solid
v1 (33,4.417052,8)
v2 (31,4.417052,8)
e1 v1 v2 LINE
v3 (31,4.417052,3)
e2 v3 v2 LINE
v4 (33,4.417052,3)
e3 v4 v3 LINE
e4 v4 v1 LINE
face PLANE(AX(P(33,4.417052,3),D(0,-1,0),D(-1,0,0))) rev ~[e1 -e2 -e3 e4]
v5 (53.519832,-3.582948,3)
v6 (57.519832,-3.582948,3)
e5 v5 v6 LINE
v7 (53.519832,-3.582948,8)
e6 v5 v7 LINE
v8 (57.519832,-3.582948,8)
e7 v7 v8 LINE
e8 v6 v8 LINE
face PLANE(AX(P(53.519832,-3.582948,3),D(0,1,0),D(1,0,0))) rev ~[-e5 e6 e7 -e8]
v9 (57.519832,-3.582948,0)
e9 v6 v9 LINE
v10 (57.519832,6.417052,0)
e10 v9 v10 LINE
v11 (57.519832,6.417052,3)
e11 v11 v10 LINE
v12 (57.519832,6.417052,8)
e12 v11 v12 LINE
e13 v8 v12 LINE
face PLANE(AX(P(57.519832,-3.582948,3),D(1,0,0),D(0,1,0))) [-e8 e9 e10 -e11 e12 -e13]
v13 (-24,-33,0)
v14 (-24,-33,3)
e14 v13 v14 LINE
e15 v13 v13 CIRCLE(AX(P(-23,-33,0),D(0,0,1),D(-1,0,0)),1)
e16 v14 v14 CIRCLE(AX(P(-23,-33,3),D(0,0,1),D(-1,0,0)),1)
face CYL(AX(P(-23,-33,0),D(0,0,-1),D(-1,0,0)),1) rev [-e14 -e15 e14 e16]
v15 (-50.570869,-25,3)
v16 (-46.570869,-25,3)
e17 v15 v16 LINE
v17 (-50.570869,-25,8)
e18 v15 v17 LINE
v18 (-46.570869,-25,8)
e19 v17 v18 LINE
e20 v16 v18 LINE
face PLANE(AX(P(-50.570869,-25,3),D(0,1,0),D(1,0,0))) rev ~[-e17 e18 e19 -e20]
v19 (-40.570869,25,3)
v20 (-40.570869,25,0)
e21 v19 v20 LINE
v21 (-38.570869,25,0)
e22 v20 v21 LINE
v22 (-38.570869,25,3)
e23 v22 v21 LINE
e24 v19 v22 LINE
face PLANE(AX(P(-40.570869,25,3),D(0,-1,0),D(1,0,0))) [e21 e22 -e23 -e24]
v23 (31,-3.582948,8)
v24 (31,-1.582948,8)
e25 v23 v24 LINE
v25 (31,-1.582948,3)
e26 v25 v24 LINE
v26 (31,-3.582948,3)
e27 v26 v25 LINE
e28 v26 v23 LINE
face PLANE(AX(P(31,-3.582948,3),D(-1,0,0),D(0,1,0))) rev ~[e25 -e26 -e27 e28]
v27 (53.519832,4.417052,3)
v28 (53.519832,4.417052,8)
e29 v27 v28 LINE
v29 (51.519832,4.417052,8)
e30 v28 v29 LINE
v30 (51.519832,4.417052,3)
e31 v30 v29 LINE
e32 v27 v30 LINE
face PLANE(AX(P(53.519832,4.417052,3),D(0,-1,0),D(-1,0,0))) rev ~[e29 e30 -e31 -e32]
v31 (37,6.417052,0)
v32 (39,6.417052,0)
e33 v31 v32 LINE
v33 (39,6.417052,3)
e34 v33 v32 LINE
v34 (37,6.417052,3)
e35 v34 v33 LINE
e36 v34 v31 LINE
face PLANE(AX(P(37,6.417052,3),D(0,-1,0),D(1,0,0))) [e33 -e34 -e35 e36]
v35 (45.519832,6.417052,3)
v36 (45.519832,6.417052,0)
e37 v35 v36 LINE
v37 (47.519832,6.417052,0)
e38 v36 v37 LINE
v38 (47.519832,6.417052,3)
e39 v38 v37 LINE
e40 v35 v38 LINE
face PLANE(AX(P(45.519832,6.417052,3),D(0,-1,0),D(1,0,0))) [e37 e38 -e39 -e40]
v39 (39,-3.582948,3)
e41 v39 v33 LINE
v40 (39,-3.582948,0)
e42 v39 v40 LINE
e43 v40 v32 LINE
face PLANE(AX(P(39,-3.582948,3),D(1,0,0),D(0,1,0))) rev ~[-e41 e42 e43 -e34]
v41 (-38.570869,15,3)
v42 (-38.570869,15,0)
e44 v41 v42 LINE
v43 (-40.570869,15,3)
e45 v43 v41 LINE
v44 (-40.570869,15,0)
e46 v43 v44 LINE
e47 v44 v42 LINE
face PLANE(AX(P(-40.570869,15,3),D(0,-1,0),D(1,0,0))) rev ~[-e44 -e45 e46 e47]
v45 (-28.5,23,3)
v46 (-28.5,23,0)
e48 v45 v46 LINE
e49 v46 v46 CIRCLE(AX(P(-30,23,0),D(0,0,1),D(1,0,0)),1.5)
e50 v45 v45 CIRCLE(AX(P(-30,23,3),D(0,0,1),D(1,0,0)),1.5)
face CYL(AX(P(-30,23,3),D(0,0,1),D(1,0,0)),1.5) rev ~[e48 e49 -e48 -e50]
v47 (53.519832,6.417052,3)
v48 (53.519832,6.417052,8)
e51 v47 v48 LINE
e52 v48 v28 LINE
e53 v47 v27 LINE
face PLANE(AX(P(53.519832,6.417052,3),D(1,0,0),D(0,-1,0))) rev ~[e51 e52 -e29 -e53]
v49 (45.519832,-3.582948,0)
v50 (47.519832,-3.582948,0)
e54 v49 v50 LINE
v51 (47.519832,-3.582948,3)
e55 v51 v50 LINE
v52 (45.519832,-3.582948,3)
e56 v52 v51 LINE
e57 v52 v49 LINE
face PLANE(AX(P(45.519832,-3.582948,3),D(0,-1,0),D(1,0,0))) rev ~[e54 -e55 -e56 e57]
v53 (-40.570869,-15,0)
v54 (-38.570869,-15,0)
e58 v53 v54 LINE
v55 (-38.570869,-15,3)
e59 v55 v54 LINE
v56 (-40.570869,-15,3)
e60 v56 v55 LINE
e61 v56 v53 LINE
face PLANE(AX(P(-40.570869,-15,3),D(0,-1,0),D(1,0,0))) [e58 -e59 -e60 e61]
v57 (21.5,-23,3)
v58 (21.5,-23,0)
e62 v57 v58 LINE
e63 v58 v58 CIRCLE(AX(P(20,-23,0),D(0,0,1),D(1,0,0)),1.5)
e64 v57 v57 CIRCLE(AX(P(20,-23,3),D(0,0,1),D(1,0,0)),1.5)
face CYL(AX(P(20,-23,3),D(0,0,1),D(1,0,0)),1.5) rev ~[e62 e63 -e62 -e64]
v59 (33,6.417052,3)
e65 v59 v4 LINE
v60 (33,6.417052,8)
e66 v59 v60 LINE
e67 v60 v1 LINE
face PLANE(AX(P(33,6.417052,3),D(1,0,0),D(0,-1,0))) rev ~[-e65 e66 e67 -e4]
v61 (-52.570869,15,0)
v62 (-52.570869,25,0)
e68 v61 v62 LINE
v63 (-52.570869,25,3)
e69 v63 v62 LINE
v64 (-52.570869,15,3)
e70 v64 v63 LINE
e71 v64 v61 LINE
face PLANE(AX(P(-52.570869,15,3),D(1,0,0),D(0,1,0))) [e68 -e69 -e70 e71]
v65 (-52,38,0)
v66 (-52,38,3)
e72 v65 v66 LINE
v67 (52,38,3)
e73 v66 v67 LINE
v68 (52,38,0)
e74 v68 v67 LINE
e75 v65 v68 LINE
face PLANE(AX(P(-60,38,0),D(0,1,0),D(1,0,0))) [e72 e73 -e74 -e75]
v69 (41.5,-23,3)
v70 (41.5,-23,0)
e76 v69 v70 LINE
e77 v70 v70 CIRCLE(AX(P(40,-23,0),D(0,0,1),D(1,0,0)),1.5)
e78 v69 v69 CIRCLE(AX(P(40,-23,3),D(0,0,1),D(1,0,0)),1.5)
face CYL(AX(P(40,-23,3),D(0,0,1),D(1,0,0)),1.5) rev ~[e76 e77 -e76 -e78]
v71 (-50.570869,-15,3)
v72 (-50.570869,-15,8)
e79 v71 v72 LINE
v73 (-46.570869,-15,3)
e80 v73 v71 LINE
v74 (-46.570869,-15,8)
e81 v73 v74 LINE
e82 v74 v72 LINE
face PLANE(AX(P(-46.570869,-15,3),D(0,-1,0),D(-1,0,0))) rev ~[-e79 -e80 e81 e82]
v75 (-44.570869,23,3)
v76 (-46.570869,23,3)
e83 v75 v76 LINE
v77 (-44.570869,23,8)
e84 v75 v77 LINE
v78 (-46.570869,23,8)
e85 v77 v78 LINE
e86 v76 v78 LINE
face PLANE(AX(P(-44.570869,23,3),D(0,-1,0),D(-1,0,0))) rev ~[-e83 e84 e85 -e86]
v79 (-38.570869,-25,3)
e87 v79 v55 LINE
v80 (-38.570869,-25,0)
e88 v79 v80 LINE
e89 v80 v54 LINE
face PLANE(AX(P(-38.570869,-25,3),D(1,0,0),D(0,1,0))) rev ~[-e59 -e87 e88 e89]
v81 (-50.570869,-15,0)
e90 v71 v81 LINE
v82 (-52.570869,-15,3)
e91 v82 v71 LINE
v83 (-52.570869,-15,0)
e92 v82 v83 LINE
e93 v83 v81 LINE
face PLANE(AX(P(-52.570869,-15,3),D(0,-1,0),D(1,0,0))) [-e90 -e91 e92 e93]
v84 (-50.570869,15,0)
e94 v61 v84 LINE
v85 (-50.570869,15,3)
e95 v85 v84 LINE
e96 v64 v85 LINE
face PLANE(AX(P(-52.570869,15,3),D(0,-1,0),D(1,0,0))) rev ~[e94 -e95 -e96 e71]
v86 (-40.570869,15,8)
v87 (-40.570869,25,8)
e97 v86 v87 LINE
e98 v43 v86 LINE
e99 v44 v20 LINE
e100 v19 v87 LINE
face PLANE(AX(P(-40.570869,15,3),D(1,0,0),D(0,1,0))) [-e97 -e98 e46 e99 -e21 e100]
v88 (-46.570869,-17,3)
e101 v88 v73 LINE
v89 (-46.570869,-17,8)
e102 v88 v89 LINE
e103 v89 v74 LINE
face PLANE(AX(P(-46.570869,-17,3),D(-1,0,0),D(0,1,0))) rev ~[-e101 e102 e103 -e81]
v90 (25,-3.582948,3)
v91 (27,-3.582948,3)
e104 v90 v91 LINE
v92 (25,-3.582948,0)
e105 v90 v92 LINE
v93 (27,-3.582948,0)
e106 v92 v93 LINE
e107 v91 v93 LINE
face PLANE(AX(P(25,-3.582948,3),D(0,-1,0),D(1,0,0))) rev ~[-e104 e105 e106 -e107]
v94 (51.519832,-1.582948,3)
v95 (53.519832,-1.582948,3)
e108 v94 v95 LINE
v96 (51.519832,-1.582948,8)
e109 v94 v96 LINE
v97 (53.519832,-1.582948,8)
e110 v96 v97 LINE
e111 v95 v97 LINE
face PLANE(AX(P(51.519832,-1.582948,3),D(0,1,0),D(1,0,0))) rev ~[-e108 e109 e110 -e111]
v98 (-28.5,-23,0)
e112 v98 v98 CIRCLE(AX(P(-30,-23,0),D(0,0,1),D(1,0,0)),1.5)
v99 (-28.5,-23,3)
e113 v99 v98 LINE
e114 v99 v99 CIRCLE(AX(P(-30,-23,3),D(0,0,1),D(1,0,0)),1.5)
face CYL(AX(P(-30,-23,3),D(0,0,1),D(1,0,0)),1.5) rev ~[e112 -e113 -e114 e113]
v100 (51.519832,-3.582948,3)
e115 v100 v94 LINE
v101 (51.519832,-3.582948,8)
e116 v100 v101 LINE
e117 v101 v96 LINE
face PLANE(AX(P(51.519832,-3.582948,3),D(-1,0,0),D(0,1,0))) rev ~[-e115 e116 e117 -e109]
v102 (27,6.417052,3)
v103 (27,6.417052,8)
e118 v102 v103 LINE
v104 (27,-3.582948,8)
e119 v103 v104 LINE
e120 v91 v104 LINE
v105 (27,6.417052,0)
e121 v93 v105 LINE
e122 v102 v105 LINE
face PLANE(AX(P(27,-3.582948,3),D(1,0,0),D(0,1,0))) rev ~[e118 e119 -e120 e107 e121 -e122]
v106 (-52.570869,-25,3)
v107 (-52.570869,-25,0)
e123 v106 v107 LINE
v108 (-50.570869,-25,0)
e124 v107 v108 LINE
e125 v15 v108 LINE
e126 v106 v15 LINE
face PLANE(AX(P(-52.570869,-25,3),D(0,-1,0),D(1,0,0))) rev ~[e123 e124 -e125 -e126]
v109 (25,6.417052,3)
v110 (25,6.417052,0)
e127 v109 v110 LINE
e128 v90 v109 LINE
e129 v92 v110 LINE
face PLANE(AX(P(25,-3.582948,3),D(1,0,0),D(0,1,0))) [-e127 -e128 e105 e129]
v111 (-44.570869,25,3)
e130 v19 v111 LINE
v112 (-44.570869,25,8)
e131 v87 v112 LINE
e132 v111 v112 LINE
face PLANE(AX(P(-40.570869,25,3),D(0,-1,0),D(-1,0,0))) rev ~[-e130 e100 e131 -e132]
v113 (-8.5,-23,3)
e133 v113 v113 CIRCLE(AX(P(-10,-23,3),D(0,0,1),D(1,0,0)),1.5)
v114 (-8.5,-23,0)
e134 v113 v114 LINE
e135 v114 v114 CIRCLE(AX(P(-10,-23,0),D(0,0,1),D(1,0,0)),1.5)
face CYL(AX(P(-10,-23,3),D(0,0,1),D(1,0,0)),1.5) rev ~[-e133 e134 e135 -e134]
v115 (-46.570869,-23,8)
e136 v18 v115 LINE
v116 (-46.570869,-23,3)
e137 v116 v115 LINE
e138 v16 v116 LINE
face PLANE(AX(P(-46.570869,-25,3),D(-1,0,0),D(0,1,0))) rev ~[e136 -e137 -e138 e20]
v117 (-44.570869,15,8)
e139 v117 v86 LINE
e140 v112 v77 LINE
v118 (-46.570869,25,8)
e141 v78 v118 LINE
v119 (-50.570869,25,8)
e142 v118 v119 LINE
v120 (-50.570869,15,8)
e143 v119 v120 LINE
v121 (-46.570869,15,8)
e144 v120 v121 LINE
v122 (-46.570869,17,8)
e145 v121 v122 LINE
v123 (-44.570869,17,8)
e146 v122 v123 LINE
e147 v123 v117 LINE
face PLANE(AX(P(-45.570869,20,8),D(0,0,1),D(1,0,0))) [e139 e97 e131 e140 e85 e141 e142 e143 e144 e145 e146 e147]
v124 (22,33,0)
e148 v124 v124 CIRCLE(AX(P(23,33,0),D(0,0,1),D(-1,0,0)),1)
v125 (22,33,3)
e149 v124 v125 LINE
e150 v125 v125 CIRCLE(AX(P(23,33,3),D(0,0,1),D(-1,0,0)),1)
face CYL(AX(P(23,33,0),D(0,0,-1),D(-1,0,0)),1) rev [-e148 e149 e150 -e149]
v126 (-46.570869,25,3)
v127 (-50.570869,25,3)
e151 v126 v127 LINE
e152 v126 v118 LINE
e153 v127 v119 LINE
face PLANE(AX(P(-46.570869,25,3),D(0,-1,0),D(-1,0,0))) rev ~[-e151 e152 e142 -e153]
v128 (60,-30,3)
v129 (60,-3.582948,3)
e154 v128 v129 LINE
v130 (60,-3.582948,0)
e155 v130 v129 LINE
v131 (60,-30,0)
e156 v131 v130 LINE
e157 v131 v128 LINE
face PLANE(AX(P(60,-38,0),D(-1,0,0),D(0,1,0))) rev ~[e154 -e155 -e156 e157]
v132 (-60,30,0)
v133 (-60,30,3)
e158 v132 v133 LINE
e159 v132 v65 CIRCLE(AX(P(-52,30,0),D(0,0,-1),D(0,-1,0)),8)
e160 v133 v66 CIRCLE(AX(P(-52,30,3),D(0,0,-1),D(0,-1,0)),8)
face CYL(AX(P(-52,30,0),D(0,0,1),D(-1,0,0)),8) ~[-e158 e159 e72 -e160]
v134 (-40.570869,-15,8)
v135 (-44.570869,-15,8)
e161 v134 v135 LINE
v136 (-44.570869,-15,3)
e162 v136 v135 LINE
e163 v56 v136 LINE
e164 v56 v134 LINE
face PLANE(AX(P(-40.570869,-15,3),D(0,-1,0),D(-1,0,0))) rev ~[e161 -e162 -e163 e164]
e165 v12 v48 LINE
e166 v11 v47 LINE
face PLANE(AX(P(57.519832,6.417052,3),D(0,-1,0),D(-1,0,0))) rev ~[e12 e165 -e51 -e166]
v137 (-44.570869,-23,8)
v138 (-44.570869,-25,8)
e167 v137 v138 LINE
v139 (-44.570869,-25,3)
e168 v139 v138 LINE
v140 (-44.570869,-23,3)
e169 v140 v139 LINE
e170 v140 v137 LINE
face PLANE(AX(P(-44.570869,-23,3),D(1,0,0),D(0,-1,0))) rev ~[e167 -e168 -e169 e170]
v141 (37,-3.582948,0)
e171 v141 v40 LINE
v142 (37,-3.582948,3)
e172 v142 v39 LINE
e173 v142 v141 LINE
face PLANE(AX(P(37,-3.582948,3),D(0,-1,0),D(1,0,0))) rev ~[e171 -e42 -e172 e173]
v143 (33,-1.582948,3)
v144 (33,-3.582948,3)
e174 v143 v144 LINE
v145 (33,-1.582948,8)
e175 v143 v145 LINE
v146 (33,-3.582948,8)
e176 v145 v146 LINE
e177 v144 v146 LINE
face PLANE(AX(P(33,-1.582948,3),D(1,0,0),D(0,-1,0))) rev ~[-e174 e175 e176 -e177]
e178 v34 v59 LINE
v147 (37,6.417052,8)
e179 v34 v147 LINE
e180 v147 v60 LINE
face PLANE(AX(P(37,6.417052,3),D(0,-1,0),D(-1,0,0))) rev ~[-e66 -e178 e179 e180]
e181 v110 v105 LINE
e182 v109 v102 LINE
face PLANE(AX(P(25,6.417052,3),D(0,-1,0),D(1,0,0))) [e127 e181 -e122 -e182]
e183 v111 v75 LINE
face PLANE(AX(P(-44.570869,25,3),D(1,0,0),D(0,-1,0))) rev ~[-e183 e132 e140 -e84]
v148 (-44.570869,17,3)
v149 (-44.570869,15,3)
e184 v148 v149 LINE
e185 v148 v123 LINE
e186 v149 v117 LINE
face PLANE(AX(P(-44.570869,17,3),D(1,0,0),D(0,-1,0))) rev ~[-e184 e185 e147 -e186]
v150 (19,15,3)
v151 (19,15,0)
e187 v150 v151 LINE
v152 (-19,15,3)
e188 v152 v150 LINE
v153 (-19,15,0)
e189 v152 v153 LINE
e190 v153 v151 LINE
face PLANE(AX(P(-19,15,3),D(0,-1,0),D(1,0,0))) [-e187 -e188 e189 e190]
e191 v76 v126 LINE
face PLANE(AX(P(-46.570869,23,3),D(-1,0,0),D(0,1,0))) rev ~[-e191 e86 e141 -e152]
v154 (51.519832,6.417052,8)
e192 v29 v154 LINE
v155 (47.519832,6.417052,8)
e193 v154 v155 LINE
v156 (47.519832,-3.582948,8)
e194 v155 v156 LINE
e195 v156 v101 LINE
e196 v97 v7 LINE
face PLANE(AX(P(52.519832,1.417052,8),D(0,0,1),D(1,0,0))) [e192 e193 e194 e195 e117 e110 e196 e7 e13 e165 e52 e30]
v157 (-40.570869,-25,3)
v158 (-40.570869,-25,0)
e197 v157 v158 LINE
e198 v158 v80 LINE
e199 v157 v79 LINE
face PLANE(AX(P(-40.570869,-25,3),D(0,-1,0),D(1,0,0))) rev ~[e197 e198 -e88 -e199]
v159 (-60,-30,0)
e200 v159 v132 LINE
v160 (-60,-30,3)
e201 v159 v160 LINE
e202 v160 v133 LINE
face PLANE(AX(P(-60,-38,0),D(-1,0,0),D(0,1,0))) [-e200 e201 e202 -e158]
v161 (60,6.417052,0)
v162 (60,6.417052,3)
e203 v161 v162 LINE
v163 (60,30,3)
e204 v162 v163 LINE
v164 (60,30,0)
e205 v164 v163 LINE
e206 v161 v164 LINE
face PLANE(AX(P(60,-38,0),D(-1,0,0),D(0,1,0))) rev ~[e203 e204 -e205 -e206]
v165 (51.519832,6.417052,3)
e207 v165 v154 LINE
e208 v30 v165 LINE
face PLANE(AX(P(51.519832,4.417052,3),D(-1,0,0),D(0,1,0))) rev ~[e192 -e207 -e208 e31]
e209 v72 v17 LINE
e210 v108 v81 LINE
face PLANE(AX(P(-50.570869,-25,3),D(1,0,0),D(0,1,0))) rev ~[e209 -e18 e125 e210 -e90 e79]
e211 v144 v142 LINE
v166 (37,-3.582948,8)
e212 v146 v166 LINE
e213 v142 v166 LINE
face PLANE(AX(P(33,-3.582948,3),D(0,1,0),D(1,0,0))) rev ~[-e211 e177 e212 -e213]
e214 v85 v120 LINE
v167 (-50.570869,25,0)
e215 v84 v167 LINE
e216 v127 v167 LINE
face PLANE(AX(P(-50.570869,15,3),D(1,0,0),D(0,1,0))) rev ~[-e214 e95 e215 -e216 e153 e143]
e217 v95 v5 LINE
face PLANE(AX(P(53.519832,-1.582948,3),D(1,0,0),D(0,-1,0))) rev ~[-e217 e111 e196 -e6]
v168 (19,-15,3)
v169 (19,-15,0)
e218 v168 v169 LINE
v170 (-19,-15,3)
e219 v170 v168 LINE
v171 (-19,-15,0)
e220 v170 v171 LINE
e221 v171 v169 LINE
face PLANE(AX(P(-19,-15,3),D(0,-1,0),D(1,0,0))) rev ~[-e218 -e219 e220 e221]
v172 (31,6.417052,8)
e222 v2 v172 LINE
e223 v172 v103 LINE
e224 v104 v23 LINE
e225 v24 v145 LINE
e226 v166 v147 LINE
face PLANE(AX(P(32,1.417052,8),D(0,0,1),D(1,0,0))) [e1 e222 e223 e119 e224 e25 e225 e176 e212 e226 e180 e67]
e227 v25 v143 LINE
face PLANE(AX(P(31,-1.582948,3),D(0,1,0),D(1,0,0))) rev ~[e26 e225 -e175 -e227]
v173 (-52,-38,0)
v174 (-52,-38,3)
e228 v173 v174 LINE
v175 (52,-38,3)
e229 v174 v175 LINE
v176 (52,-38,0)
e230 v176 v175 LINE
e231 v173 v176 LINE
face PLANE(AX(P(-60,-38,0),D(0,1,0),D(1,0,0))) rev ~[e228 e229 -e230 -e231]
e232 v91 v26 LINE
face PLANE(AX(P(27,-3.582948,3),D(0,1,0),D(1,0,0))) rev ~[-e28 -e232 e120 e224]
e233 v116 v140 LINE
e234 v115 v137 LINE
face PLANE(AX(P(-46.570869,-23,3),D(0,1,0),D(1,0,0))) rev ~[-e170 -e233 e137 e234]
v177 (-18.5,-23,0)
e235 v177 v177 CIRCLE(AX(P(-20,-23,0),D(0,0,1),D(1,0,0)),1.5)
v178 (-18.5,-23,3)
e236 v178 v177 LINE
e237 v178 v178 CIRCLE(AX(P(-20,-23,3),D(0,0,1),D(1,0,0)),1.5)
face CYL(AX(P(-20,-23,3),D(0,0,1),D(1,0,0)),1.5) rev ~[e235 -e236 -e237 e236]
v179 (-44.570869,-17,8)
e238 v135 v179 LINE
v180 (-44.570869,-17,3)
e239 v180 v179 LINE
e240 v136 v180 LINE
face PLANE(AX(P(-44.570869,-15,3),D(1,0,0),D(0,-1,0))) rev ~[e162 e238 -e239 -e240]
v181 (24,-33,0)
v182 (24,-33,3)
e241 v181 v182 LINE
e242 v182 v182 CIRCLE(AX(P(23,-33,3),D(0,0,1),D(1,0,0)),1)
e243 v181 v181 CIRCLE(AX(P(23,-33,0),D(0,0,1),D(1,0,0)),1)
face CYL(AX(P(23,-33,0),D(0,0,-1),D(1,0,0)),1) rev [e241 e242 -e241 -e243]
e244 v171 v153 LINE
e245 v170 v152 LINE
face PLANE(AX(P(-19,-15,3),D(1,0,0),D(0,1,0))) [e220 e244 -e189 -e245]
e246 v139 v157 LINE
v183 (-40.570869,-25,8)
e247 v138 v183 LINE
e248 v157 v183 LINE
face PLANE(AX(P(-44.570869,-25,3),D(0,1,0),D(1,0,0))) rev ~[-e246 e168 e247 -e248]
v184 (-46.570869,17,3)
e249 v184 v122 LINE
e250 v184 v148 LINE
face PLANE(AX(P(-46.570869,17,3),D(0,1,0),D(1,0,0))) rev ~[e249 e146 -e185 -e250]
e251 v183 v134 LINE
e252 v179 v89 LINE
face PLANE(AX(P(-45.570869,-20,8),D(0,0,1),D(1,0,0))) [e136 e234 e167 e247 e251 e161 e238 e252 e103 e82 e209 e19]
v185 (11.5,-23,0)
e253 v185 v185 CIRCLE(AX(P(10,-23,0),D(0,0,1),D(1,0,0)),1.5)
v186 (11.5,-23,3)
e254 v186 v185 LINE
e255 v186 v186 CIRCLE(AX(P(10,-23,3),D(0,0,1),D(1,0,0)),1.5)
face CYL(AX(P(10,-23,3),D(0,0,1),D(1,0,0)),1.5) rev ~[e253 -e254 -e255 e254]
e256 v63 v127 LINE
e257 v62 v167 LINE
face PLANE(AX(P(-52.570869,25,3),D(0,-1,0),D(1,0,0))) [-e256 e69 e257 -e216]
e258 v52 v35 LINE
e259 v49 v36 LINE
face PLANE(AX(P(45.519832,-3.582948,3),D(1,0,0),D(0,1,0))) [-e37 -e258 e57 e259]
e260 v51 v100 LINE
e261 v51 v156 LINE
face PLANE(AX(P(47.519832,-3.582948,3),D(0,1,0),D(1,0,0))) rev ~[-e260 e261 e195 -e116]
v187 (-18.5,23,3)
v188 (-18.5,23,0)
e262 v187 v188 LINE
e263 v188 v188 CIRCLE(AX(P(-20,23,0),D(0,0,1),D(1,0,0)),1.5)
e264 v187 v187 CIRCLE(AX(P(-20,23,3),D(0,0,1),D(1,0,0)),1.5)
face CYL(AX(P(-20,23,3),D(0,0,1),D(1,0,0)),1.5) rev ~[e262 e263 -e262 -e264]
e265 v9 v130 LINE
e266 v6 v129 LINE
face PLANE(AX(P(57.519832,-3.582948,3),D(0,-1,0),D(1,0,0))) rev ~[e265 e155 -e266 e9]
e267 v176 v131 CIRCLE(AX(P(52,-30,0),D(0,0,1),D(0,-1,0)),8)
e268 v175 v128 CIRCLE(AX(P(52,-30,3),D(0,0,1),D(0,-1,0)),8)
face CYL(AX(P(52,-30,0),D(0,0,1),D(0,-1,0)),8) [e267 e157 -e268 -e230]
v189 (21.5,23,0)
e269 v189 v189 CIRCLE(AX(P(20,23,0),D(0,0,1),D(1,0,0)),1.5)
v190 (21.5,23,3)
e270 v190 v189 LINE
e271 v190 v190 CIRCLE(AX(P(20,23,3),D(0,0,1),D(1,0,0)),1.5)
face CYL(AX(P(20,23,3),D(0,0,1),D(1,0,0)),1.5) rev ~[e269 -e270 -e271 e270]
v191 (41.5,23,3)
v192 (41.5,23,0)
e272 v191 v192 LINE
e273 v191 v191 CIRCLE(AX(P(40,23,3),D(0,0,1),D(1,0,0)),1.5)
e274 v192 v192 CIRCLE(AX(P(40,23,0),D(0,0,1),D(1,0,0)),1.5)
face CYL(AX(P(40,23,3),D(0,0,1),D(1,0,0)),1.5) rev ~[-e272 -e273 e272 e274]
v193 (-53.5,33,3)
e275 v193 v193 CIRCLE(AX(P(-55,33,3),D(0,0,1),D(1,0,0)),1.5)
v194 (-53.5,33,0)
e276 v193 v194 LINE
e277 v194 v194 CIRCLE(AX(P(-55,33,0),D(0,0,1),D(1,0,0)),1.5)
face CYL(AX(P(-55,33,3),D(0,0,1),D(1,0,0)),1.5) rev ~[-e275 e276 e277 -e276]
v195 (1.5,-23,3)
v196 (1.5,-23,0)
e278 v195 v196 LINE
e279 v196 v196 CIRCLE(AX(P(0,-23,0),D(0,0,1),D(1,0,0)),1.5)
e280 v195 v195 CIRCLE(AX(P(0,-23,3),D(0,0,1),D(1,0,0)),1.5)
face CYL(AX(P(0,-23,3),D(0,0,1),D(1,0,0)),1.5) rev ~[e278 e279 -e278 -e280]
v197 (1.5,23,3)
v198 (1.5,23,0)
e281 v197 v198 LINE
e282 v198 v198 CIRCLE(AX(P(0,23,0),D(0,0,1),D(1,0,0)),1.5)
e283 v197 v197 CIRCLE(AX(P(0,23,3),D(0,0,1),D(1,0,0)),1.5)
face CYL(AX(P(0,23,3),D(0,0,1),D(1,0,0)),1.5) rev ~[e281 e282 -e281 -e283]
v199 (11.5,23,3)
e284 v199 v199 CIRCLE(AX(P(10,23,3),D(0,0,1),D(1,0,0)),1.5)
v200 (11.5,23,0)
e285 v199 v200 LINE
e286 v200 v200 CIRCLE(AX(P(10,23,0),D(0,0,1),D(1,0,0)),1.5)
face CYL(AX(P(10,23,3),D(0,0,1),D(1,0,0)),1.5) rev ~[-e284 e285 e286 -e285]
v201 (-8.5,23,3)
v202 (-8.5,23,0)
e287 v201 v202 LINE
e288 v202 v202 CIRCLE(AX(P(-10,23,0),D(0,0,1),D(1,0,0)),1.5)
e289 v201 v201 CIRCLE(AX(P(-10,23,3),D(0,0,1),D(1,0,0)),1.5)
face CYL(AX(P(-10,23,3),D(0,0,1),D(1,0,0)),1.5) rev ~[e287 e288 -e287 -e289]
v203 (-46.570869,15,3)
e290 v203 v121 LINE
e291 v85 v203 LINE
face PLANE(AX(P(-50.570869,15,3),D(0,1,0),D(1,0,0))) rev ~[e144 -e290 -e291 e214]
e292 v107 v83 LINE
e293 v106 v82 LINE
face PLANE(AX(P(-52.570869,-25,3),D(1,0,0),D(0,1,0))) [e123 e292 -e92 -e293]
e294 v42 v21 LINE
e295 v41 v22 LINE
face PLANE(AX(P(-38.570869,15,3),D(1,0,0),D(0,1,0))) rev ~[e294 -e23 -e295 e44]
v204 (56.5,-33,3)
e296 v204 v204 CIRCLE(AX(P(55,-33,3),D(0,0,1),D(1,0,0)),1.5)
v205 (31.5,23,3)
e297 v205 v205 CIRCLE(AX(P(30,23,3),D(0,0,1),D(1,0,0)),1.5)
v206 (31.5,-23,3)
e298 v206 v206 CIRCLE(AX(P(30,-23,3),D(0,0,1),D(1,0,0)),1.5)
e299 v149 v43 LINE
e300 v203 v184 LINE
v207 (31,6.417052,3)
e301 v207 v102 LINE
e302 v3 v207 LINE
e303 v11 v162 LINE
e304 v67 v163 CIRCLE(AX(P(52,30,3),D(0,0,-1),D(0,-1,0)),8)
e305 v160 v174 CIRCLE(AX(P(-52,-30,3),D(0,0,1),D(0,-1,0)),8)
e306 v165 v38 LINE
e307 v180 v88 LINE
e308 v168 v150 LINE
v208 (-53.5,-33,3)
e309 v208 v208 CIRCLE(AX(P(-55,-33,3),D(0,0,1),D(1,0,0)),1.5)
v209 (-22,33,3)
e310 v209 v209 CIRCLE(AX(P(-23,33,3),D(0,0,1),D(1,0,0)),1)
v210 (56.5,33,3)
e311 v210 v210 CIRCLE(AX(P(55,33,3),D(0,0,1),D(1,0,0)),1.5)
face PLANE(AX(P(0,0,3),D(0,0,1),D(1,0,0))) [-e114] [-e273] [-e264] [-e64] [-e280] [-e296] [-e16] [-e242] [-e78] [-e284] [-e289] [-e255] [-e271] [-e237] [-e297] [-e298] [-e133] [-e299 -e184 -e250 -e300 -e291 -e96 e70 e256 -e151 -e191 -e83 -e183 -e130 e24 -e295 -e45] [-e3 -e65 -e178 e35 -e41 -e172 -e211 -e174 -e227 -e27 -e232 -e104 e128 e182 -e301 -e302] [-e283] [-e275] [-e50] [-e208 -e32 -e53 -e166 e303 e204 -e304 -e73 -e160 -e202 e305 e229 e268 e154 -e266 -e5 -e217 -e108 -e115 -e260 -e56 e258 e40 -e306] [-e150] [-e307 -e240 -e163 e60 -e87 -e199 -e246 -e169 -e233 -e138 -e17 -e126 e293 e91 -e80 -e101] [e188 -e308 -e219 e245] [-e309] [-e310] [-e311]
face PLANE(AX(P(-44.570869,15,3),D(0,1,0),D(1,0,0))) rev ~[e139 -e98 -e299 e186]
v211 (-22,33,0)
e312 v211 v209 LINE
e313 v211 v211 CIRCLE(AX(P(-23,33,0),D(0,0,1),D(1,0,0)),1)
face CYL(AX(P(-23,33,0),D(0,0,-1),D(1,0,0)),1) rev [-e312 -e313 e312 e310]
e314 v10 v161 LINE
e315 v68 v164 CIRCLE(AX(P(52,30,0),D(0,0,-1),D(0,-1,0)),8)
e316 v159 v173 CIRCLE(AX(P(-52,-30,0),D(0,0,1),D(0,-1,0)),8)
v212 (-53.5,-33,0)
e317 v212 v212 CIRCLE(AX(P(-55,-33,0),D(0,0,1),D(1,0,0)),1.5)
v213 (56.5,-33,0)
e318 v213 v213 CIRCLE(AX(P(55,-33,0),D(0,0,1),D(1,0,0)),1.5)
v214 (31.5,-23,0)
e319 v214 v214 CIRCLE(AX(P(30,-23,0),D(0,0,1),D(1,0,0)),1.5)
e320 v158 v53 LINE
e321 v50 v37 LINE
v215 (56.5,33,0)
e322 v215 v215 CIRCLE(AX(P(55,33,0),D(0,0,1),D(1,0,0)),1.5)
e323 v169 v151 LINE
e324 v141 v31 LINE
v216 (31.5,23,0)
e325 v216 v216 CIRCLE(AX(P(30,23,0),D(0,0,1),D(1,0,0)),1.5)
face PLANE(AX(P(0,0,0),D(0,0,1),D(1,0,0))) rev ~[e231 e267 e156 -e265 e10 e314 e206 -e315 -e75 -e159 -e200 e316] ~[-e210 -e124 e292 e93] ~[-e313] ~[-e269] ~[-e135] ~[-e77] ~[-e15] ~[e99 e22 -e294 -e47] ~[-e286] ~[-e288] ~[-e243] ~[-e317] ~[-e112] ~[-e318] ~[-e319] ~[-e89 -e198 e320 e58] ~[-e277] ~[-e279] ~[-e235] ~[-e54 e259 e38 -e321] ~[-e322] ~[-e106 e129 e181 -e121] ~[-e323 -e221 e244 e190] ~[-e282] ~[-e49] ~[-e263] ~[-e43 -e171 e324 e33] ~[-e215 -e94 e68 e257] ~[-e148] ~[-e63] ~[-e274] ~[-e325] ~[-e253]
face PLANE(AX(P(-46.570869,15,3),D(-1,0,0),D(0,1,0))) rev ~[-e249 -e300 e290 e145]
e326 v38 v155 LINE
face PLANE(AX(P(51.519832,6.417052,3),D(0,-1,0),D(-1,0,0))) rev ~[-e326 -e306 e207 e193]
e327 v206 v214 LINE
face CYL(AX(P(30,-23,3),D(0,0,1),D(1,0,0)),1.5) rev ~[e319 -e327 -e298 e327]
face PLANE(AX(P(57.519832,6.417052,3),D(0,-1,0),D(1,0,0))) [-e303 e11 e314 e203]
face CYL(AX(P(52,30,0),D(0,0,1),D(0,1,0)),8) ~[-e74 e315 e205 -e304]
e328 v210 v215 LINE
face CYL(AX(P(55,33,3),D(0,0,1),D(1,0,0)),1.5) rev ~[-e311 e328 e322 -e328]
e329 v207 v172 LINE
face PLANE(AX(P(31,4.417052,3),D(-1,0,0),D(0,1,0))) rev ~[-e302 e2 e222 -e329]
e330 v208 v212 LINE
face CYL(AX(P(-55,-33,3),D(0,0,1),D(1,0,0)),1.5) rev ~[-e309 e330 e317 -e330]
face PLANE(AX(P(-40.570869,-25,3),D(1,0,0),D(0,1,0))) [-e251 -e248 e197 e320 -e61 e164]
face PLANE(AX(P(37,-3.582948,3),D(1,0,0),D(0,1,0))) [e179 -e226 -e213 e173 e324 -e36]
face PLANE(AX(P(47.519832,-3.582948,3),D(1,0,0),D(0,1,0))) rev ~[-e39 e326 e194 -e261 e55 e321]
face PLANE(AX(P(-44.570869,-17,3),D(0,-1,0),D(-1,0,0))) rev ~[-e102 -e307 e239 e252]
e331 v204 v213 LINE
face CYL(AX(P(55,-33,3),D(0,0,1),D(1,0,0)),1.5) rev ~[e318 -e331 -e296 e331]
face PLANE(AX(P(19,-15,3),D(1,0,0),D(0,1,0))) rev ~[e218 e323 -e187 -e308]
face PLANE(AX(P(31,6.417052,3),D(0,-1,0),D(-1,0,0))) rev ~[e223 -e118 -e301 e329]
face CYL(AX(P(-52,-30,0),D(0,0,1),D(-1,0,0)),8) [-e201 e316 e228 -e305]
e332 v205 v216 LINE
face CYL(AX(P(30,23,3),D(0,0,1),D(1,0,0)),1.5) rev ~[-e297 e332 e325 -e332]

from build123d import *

# Parameters (mm, degrees)
SKETCH_2_W          = 120
SKETCH_2_H          = 76
SKETCH_2_R          = 1
EXTRUDE_2_DEPTH     = 3
SKETCH_3_W          = 38
SKETCH_3_H          = 30
CUT_EXTRUDE_1_DEPTH = 3
EXTRUDE_3_DEPTH     = 5
SKETCH_7_W          = 2
SKETCH_7_H          = 10
SKETCH_7_W_2        = 3
CUT_EXTRUDE_2_DEPTH = 5
SKETCH_9_R          = 1.5
CUT_EXTRUDE_3_DEPTH = 5
FILLET_1_R          = 8
SKETCH_10_R         = 1.5
CUT_EXTRUDE_4_DEPTH = 5


with BuildPart() as part:
    # 草图2 → 凸台-拉伸2 (new body)
    with BuildSketch(Plane.XY):
        Rectangle(SKETCH_2_W, SKETCH_2_H)
        with Locations((-23, 33)):
            Circle(SKETCH_2_R, mode=Mode.SUBTRACT)
        with Locations(Location((23, 33, 0), (0, 0, 180))):
            Circle(SKETCH_2_R, mode=Mode.SUBTRACT)
        with Locations((23, -33)):
            Circle(SKETCH_2_R, mode=Mode.SUBTRACT)
        with Locations(Location((-23, -33, 0), (0, 0, 180))):
            Circle(SKETCH_2_R, mode=Mode.SUBTRACT)
    extrude(amount=EXTRUDE_2_DEPTH)

    # 草图3 → 切除-拉伸1 (cut)
    with BuildSketch(Plane.XY.offset(3)):
        Rectangle(SKETCH_3_W, SKETCH_3_H)
    extrude(amount=-CUT_EXTRUDE_1_DEPTH, mode=Mode.SUBTRACT)

    # 草图6 → 凸台-拉伸3 (add)
    with BuildSketch(Plane.XY.offset(3)):
        Polygon((-50.570869285, 25), (-50.570869285, 15), (-46.570869285, 15), (-46.570869285, 17), (-44.570869285, 17), (-44.570869285, 15), (-40.570869285, 15), (-40.570869285, 25), (-44.570869285, 25), (-44.570869285, 23), (-46.570869285, 23), (-46.570869285, 25), align=None)
        Polygon((-50.570869285, -15), (-50.570869285, -25), (-46.570869285, -25), (-46.570869285, -23), (-44.570869285, -23), (-44.570869285, -25), (-40.570869285, -25), (-40.570869285, -15), (-44.570869285, -15), (-44.570869285, -17), (-46.570869285, -17), (-46.570869285, -15), align=None)
        Polygon((31, -1.582947544), (33, -1.582947544), (33, -3.582947544), (37, -3.582947544), (37, 6.417052456), (33, 6.417052456), (33, 4.417052456), (31, 4.417052456), (31, 6.417052456), (27, 6.417052456), (27, -3.582947544), (31, -3.582947544), align=None)
        Polygon((53.519832093, 6.417052456), (53.519832093, 4.417052456), (51.519832093, 4.417052456), (51.519832093, 6.417052456), (47.519832093, 6.417052456), (47.519832093, -3.582947544), (51.519832093, -3.582947544), (51.519832093, -1.582947544), (53.519832093, -1.582947544), (53.519832093, -3.582947544), (57.519832093, -3.582947544), (57.519832093, 6.417052456), align=None)
    extrude(amount=EXTRUDE_3_DEPTH)

    # 草图7 → 切除-拉伸2 (cut)
    with BuildSketch(Plane.XY.offset(3)):
        with Locations((-51.570869285, 20)):
            Rectangle(SKETCH_7_W, SKETCH_7_H)
        with Locations((-39.570869285, 20)):
            Rectangle(SKETCH_7_W, SKETCH_7_H)
        with Locations((-51.570869285, -20)):
            Rectangle(SKETCH_7_W, SKETCH_7_H)
        with Locations((-39.570869285, -20)):
            Rectangle(SKETCH_7_W, SKETCH_7_H)
        with Locations((26, 1.417052456)):
            Rectangle(SKETCH_7_W, SKETCH_7_H)
        with Locations((38, 1.417052456)):
            Rectangle(SKETCH_7_W, SKETCH_7_H)
        with Locations((46.519832093, 1.417052456)):
            Rectangle(SKETCH_7_W, SKETCH_7_H)
        with Locations((59.019832093, 1.417052456)):
            Rectangle(SKETCH_7_W_2, SKETCH_7_H)
    extrude(amount=-CUT_EXTRUDE_2_DEPTH, mode=Mode.SUBTRACT)

    # 草图9 → 切除-拉伸3 (cut)
    with BuildSketch(Plane.XY.offset(3)):
        with Locations((0, -23)):
            Circle(SKETCH_9_R)
        with Locations((10, -23)):
            Circle(SKETCH_9_R)
        with Locations((20, -23)):
            Circle(SKETCH_9_R)
        with Locations((30, -23)):
            Circle(SKETCH_9_R)
        with Locations((40, -23)):
            Circle(SKETCH_9_R)
        with Locations((-30, -23)):
            Circle(SKETCH_9_R)
        with Locations((-20, -23)):
            Circle(SKETCH_9_R)
        with Locations((-10, -23)):
            Circle(SKETCH_9_R)
        with Locations((-10, 23)):
            Circle(SKETCH_9_R)
        with Locations((-20, 23)):
            Circle(SKETCH_9_R)
        with Locations((-30, 23)):
            Circle(SKETCH_9_R)
        with Locations((40, 23)):
            Circle(SKETCH_9_R)
        with Locations((30, 23)):
            Circle(SKETCH_9_R)
        with Locations((20, 23)):
            Circle(SKETCH_9_R)
        with Locations((10, 23)):
            Circle(SKETCH_9_R)
        with Locations((0, 23)):
            Circle(SKETCH_9_R)
    extrude(amount=-CUT_EXTRUDE_3_DEPTH, mode=Mode.SUBTRACT)

    # 圆角1
    fillet_1_edges = [part.edges().sort_by_distance(p)[0] for p in [
        (60, -38, 1.5),
        (-60, -38, 1.5),
        (-60, 38, 1.5),
        (60, 38, 1.5),
    ]]
    fillet(fillet_1_edges, radius=FILLET_1_R)

    # 草图10 → 切除-拉伸4 (cut)
    with BuildSketch(Plane.XY.offset(3)):
        with Locations((-55, 33)):
            Circle(SKETCH_10_R)
        with Locations((55, 33)):
            Circle(SKETCH_10_R)
        with Locations((55, -33)):
            Circle(SKETCH_10_R)
        with Locations((-55, -33)):
            Circle(SKETCH_10_R)
    extrude(amount=-CUT_EXTRUDE_4_DEPTH, mode=Mode.SUBTRACT)


solid = part.part
